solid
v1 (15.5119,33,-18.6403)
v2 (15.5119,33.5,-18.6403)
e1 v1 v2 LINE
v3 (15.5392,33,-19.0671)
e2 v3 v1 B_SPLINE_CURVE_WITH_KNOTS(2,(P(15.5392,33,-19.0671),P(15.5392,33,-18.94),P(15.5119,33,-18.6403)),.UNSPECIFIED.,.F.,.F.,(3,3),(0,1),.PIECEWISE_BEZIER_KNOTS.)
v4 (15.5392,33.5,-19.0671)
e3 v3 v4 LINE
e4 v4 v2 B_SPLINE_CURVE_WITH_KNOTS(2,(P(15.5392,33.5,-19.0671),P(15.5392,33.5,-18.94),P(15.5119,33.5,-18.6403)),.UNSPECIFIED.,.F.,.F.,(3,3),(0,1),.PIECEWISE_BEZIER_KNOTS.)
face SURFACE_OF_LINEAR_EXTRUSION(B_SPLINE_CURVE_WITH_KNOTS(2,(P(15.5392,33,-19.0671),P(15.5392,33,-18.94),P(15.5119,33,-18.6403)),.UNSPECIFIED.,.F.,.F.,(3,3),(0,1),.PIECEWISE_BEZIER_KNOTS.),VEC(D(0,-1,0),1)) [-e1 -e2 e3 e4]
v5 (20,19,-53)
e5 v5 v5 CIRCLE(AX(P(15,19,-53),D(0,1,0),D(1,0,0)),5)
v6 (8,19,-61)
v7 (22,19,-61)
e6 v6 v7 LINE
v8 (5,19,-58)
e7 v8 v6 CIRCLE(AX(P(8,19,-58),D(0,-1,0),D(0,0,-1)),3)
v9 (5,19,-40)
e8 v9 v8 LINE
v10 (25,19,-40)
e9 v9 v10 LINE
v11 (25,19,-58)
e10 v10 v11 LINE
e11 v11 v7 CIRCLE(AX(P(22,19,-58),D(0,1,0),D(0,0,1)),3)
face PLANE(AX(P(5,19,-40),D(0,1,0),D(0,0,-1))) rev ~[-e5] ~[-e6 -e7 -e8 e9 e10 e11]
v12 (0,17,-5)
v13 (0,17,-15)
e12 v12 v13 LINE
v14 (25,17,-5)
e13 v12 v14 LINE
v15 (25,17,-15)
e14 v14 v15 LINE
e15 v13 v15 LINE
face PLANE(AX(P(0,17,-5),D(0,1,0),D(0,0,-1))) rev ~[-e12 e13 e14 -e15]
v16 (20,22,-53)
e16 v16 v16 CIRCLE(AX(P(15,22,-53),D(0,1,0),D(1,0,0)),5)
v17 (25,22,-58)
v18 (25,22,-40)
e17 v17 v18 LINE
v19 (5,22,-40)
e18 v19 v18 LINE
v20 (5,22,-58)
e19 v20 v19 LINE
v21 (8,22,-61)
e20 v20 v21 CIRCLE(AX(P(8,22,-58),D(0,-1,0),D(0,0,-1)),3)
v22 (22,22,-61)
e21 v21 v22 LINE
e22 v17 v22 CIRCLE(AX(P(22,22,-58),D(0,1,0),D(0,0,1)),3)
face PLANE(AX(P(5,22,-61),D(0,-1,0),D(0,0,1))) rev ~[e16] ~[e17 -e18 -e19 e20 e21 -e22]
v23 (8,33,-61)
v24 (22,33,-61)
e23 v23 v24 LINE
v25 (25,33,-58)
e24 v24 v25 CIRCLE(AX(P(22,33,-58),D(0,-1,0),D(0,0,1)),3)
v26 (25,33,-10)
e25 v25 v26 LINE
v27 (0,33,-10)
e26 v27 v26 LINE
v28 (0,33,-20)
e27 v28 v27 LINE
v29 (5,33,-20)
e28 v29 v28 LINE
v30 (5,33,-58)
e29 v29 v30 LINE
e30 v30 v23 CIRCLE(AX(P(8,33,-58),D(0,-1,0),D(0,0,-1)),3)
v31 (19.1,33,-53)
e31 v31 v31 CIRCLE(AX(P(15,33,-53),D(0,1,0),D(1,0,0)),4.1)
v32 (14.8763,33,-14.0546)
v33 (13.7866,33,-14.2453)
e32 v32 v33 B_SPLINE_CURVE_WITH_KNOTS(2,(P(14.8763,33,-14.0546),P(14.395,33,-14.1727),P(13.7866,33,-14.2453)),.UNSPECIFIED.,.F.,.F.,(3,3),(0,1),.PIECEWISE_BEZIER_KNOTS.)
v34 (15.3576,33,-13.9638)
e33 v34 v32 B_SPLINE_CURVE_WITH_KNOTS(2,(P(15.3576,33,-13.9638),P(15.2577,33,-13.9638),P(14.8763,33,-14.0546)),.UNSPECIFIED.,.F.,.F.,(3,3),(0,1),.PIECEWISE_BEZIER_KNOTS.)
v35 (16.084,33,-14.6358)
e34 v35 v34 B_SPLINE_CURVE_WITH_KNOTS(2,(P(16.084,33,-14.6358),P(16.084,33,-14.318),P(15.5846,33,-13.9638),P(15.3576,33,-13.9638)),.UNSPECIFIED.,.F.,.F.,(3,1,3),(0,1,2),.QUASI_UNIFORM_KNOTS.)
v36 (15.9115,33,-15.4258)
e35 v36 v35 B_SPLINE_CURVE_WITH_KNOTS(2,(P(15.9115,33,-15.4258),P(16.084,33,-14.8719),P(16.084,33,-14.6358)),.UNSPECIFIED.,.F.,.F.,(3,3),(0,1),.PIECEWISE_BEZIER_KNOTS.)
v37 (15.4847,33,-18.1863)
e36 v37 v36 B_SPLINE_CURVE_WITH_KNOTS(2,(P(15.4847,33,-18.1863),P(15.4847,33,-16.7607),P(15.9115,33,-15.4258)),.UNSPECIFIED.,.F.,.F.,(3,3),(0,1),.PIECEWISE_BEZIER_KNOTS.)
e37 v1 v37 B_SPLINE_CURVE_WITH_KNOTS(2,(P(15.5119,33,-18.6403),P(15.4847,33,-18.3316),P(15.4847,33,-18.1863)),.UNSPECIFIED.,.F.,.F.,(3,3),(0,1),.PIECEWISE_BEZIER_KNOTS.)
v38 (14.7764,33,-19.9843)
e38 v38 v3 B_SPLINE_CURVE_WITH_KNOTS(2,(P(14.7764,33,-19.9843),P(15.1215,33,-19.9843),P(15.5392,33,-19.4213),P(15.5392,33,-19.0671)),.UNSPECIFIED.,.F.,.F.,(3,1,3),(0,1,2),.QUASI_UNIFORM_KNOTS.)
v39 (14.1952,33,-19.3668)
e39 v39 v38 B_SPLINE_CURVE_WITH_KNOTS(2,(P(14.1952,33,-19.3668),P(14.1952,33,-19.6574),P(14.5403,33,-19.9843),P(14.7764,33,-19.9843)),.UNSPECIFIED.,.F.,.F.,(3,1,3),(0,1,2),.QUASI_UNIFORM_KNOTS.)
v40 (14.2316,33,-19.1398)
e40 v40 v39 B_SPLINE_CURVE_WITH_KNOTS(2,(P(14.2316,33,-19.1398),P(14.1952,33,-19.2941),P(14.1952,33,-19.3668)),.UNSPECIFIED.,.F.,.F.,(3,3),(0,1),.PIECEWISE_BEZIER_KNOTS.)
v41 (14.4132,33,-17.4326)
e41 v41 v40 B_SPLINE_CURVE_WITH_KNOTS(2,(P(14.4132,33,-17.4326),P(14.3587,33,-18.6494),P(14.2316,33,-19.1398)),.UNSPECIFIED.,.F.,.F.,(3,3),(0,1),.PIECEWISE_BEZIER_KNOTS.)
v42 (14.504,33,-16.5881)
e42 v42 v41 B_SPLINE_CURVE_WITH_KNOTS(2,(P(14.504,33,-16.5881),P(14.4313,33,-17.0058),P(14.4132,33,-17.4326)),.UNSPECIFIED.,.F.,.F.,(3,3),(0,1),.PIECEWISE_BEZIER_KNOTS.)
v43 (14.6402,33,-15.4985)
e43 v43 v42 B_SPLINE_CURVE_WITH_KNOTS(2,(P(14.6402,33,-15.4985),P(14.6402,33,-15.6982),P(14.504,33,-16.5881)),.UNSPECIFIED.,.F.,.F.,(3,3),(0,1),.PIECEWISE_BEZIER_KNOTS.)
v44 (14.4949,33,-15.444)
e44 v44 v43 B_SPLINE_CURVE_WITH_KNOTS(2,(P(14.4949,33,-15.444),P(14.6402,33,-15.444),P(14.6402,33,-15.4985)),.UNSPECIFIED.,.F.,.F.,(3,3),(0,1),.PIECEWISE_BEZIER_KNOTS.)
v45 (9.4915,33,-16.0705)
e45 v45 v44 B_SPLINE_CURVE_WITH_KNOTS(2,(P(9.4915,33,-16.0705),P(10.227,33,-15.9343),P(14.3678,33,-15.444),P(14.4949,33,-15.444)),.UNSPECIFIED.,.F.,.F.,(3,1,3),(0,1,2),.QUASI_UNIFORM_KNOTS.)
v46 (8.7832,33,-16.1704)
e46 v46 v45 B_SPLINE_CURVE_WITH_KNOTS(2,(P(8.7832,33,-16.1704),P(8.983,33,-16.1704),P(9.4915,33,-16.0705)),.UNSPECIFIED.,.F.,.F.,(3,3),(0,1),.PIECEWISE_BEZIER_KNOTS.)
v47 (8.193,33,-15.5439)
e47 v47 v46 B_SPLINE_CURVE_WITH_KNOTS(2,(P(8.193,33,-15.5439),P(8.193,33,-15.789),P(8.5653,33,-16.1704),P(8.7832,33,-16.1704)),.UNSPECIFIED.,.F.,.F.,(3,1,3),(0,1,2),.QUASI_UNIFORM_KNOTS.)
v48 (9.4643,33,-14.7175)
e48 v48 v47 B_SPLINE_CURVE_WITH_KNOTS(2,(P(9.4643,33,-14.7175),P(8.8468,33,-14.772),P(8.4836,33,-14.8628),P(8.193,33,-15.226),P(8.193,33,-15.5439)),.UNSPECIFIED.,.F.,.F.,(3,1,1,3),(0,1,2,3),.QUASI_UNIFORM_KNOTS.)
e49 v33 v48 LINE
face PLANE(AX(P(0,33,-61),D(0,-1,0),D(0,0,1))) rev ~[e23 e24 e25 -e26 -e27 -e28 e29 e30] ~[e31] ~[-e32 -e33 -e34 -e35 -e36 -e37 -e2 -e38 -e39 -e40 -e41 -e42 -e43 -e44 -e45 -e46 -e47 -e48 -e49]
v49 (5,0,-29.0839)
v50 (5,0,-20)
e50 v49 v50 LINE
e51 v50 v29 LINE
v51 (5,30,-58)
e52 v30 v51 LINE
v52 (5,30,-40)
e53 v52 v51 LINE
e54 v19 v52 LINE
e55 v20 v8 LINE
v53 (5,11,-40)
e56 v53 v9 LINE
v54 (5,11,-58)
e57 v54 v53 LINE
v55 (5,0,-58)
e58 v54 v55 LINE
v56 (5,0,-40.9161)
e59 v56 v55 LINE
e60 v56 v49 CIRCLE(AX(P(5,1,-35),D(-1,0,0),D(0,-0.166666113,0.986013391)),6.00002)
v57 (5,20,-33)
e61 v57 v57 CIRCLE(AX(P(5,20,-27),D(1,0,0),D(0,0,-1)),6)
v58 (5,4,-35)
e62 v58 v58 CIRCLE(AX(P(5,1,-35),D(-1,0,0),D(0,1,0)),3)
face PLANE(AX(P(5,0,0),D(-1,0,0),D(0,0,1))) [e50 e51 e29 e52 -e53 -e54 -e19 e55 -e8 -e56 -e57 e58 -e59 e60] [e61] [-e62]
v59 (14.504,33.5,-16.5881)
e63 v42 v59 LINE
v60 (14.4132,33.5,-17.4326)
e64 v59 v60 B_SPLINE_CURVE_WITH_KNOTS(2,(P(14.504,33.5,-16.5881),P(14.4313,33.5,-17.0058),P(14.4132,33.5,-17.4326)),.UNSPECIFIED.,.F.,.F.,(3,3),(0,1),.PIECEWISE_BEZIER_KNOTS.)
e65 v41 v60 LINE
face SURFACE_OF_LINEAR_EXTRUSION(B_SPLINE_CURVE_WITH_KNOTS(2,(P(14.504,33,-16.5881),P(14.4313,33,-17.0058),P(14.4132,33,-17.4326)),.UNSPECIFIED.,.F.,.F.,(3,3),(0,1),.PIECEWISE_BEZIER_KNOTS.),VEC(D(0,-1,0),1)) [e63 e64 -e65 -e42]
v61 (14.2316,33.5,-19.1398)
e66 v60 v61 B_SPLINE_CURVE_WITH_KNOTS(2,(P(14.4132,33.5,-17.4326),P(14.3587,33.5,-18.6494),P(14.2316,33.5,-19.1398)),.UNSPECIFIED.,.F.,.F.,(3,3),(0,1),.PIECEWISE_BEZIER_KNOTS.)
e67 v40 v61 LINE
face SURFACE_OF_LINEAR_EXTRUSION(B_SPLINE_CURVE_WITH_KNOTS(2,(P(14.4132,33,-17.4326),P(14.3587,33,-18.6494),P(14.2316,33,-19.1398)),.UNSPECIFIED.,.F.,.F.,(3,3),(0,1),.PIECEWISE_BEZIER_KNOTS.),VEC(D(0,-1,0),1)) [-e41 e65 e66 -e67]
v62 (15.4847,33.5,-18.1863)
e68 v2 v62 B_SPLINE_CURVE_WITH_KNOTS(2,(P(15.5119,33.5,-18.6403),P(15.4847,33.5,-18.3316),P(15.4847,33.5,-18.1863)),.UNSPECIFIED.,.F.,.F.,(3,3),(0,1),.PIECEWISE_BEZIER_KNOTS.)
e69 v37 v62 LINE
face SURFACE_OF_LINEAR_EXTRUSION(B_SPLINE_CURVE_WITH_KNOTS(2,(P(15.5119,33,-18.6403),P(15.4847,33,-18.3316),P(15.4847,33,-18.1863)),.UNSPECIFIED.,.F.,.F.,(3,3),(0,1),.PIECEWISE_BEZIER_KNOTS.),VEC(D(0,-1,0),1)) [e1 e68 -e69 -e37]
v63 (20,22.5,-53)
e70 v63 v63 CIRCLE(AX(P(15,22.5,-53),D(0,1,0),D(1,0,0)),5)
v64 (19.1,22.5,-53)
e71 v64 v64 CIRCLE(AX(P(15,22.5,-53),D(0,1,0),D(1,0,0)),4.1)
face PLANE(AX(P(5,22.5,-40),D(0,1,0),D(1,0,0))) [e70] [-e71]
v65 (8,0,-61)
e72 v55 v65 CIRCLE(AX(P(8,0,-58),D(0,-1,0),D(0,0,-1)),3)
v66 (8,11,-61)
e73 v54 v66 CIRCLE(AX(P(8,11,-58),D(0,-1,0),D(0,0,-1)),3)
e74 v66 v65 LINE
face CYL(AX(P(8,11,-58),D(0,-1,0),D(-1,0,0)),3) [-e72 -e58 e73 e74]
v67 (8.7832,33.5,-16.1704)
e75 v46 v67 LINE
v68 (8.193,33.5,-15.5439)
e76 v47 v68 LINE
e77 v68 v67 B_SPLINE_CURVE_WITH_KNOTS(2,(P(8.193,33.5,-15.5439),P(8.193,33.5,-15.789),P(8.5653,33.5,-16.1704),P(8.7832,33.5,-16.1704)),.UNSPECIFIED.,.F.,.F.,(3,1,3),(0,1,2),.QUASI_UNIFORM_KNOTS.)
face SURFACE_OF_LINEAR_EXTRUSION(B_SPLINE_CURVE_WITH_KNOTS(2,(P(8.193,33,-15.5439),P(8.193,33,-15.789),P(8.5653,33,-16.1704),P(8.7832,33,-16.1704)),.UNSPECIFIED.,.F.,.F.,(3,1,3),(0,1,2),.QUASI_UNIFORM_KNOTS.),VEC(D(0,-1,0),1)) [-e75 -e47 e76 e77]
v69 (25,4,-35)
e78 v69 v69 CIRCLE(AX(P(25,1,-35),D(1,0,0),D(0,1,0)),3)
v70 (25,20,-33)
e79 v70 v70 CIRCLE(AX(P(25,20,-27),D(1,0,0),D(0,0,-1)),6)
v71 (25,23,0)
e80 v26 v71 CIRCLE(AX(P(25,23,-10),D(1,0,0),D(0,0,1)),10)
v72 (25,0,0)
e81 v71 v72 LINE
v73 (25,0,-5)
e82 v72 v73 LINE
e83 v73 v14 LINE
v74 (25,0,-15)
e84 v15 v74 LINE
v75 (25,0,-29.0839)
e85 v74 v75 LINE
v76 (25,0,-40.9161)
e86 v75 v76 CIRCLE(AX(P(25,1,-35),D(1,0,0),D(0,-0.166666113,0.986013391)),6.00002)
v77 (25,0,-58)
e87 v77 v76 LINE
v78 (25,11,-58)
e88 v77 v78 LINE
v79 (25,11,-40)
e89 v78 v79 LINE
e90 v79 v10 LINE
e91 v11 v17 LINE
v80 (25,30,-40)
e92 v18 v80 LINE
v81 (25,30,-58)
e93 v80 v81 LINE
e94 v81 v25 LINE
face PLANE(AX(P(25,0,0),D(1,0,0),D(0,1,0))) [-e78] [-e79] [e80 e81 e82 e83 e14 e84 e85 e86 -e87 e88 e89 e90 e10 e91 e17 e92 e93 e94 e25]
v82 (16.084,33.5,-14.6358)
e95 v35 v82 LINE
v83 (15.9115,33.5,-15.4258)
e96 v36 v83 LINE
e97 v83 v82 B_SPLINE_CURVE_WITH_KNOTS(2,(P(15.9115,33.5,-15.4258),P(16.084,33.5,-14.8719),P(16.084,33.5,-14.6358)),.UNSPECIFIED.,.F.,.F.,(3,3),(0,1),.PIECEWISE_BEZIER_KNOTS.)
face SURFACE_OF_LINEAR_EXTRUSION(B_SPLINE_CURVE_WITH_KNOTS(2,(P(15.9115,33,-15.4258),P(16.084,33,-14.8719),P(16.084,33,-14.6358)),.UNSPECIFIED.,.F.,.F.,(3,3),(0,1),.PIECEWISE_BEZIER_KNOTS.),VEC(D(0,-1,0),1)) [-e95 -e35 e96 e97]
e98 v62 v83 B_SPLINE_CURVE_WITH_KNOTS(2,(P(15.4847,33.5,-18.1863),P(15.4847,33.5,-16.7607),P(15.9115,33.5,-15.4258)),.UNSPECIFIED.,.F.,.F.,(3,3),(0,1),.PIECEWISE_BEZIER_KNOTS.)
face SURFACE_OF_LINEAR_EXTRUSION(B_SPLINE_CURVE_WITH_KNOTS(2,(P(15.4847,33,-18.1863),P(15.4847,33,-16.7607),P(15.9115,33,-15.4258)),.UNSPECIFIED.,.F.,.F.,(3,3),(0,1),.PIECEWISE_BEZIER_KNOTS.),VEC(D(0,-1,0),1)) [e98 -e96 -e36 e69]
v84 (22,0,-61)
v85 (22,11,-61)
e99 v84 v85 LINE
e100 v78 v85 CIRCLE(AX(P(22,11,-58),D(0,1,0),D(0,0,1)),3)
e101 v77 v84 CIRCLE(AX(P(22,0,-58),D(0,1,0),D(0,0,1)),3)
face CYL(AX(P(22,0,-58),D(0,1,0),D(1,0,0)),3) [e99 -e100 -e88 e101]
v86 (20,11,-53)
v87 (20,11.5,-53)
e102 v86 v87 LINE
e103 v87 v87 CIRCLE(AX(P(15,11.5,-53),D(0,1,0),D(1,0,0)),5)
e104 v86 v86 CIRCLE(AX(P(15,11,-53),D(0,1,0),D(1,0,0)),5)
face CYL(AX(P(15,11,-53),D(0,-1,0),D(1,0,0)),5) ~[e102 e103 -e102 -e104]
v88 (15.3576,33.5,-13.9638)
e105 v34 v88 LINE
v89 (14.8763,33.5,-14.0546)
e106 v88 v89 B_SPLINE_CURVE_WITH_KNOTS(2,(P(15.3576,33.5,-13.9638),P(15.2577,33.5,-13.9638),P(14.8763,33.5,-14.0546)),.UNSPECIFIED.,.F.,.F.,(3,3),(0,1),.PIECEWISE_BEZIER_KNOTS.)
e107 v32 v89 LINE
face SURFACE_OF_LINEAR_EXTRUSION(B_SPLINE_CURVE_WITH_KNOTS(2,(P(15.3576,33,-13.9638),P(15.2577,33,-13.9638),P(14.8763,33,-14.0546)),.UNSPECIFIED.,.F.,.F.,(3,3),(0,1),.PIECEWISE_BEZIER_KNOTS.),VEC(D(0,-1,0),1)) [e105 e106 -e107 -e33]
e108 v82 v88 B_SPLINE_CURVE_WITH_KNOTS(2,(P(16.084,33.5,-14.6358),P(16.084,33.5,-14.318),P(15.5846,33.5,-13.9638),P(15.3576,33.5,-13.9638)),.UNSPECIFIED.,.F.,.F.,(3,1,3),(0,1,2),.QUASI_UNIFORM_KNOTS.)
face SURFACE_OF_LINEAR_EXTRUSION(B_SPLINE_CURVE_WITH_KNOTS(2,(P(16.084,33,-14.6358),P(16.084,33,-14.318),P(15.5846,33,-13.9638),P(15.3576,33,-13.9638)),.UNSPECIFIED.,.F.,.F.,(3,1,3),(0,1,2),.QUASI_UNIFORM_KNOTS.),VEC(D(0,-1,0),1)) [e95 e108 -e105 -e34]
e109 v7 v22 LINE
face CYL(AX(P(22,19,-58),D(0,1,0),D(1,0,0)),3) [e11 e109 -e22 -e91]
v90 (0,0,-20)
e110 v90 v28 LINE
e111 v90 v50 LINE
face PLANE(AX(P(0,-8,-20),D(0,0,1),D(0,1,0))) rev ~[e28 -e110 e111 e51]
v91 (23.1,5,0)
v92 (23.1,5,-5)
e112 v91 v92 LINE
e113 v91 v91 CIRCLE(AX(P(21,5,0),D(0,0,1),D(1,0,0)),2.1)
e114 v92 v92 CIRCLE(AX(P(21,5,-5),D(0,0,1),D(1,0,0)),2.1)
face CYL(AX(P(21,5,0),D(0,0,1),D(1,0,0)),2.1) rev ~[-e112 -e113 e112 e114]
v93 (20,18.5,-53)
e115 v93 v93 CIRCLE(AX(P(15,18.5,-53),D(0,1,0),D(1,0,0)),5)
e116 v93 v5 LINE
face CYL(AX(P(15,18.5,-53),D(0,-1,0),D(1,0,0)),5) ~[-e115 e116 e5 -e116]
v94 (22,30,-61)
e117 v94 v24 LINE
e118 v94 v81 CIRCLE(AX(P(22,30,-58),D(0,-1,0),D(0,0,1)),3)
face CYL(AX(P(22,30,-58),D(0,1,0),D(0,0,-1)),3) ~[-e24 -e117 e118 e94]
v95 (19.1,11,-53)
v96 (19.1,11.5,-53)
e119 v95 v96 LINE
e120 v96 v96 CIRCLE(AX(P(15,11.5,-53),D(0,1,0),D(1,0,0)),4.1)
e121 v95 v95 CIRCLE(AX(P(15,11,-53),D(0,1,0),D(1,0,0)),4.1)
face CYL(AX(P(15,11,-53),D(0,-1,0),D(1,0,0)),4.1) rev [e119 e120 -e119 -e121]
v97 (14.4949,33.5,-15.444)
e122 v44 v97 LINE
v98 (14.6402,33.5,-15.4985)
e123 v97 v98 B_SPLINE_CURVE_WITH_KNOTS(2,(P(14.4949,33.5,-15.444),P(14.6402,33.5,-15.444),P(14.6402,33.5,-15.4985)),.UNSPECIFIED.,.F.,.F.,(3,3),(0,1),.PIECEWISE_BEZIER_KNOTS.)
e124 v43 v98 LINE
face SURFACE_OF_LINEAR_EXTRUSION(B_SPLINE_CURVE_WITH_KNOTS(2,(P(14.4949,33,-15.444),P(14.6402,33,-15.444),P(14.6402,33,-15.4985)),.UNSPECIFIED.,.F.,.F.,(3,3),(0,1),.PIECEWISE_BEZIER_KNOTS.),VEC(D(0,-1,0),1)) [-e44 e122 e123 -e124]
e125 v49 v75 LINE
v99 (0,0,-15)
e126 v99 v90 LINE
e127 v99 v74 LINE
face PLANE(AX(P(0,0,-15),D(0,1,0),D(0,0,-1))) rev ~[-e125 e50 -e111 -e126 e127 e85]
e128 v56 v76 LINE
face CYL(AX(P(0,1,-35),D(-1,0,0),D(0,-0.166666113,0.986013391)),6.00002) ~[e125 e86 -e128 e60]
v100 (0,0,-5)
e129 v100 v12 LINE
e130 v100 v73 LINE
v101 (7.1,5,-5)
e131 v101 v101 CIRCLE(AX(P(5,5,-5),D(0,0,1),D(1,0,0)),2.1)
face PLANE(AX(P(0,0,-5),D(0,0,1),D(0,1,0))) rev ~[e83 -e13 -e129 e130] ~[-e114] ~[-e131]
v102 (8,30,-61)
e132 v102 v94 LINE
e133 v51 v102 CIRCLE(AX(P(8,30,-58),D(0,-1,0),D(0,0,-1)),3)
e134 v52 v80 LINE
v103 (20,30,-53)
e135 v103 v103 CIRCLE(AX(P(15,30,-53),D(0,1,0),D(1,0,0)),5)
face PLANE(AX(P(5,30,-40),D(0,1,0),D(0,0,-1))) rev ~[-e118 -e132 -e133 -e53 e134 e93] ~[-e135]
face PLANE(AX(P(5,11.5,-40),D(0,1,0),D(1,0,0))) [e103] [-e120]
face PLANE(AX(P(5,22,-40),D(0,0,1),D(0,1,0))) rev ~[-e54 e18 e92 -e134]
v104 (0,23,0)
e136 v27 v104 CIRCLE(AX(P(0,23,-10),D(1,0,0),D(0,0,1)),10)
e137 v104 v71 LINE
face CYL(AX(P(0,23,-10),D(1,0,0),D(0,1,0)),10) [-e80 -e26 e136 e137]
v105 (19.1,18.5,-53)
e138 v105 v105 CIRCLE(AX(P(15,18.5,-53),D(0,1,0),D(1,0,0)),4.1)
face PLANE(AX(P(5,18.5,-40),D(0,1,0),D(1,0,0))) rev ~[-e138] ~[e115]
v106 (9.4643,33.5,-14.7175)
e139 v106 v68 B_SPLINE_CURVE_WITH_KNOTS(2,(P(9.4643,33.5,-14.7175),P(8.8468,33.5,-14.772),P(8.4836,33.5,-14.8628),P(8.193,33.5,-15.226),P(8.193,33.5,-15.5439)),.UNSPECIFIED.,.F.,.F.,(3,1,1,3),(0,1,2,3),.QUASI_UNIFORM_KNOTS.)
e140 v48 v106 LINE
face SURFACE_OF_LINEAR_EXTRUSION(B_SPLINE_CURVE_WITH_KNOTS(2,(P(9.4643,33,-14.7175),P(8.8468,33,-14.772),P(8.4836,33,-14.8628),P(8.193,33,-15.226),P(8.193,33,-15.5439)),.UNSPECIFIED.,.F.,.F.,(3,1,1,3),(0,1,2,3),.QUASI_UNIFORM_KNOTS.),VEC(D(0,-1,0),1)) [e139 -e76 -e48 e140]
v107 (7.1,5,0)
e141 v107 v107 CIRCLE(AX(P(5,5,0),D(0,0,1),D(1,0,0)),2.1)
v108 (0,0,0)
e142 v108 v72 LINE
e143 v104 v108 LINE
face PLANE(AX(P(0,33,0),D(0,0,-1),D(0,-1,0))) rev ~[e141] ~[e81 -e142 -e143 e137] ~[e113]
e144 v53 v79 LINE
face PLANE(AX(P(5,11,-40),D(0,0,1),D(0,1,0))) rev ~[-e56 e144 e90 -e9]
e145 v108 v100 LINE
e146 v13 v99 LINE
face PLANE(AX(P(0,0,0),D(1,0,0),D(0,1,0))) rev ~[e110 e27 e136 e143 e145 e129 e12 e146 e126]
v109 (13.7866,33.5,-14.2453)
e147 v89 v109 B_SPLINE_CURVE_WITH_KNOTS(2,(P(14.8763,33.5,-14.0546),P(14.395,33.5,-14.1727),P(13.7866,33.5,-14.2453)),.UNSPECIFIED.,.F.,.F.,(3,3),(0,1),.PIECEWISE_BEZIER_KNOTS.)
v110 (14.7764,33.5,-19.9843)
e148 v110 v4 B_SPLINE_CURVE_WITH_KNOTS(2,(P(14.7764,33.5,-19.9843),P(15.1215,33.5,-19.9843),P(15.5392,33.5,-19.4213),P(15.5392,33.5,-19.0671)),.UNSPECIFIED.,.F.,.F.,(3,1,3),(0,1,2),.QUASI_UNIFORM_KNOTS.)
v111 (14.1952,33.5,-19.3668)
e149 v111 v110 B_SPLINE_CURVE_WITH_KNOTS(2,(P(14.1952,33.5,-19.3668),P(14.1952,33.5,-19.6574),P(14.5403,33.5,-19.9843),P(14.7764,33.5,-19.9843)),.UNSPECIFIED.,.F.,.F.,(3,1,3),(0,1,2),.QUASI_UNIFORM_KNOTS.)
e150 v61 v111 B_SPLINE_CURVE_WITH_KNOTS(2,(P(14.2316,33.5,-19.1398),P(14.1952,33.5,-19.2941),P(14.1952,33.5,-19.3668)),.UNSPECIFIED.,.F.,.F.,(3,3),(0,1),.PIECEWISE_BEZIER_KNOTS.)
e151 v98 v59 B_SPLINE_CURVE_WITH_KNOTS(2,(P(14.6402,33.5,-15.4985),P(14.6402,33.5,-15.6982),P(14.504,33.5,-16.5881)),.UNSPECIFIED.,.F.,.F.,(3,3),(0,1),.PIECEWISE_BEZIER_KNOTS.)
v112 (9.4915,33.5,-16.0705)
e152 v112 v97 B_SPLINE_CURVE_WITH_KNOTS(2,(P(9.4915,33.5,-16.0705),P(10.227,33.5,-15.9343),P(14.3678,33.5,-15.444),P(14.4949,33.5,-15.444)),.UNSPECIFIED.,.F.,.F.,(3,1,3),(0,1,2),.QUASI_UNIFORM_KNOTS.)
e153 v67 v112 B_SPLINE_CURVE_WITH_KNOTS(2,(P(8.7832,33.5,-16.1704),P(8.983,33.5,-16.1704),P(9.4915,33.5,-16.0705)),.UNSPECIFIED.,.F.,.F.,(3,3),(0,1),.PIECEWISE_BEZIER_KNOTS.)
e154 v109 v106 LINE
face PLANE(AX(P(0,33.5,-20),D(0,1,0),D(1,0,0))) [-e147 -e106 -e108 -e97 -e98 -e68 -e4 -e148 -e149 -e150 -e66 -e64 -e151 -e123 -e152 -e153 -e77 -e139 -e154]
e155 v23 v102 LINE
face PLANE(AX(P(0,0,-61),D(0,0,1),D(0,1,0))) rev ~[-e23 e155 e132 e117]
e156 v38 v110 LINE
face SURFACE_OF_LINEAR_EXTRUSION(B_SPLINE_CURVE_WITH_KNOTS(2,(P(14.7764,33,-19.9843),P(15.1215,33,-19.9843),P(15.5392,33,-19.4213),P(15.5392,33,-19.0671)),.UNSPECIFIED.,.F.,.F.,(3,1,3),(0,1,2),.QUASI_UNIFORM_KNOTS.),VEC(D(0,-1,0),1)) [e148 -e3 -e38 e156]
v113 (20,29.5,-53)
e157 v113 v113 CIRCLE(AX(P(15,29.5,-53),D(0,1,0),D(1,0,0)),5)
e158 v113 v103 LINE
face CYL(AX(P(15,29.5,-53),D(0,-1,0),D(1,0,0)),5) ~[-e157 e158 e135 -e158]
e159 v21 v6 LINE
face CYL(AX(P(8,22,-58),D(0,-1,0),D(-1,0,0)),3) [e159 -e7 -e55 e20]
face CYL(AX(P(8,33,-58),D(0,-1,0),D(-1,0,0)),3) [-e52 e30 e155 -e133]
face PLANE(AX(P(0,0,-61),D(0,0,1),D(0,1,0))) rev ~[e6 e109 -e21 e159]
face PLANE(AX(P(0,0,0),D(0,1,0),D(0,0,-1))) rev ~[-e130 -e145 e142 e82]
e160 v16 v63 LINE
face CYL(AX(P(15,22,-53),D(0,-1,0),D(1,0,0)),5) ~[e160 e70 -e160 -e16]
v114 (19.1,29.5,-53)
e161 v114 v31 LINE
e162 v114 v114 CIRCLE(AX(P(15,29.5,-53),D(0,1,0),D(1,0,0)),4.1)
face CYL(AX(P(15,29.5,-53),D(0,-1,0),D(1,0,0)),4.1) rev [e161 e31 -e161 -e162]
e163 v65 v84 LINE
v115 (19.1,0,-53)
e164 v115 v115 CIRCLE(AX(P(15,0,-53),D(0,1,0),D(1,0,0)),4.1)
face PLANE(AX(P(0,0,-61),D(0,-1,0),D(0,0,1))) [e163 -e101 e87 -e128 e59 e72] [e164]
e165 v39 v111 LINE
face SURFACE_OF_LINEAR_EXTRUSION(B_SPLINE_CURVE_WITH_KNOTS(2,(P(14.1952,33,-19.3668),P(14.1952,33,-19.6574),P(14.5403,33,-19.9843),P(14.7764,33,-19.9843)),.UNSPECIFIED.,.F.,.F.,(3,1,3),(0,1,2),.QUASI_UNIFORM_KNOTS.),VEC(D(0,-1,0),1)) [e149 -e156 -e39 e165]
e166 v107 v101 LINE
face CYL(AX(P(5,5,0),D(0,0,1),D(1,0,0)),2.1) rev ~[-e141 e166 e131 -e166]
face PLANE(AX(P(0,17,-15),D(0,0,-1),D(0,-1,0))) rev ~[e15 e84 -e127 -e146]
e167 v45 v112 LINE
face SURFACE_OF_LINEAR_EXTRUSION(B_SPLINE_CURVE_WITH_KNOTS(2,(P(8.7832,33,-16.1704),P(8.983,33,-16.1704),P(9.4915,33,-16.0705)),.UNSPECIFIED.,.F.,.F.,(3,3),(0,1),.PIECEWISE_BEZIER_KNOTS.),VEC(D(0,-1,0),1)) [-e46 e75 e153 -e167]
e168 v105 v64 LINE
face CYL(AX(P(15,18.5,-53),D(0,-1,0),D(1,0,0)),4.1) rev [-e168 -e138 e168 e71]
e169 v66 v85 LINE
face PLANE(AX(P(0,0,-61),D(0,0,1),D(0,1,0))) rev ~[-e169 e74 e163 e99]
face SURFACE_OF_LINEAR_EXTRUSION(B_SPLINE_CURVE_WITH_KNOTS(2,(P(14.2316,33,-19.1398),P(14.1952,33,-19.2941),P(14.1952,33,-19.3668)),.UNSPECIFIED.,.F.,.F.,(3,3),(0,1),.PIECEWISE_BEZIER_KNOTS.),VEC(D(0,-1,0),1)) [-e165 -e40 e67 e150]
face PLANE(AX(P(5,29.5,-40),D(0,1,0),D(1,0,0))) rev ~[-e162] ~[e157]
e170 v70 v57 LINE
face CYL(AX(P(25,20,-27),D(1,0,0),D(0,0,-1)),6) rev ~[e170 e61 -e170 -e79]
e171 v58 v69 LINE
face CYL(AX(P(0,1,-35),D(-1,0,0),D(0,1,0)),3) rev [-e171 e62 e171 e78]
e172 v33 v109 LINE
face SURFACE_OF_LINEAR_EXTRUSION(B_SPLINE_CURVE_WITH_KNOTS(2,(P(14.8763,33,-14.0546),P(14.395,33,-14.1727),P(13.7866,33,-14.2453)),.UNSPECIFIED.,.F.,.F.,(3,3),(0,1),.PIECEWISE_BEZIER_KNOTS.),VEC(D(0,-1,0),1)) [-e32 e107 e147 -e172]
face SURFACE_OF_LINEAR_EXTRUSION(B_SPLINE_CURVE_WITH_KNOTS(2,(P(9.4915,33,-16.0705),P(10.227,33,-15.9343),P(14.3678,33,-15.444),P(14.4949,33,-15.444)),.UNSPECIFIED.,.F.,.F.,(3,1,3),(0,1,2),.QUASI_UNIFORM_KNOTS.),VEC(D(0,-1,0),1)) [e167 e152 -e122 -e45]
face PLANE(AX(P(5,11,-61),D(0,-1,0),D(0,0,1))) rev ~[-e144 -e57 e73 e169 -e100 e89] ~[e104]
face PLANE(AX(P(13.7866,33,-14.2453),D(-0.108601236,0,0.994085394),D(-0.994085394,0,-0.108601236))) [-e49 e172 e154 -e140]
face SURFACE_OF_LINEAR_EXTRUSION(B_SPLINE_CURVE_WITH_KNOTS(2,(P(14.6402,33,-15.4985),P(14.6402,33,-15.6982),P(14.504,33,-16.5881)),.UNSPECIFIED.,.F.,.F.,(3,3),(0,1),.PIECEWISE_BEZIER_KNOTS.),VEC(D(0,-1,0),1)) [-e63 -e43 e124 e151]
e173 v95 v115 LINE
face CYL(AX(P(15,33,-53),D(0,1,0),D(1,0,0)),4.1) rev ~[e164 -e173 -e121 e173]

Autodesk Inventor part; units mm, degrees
ref_plane "YZ Plane" through (0, 0, 0) normal (1, 0, 0) x (0, 1, 0)
ref_plane "XZ Plane" through (0, 0, 0) normal (0, 1, 0) x (-1, 0, 0)
ref_plane "XY Plane" through (0, 0, 0) normal (0, 0, 1) x (1, 0, 0)
sketch "Sketch1" plane through (0, 0, 0) normal (1, 0, 0) x (0, 1, 0)
  line L0 (0, 0) -> (0, -5)
  line L1 (0, -5) -> (17, -5)
  line L2 (17, -5) -> (17, -15)
  line L3 (17, -15) -> (0, -15)
  line L4 (0, -61) -> (33, -61)
  line L5 (33, -61) -> (33, 0)
  line L6 (33, 0) -> (0, 0)
  circle A0 centre (1, -35) radius 3
  arc A1 (0, -29.0839) -> (0, -40.9161) centre (1, -35) ccw
  line L7 (0, -15) -> (0, -29.0839)
  line L8 (0, -61) -> (0, -40.9161)
  dimension "d0" = 5
  dimension "d1" = 17
  dimension "d2" = 10
  dimension "d4" = 33
  dimension "d6" = 6
  dimension "d7" = 1
  dimension "d8" = 20
  dimension "d9" = 6
  dimension "d47" = 46
extrude "Extrusion1" add sketch "Sketch1" along normal blind 25
sketch "Sketch2" plane through (0, 0, 0) normal (-1, 0, 0) x (0, 0, 1)
  line L0 (-70, -8) -> (-20, -8)
  line L1 (-20, -8) -> (-20, 42)
  line L2 (-20, 42) -> (-70, 42)
  line L3 (-70, 42) -> (-70, -8)
  point P0 (0, 0)
  dimension "d12" = 20
  dimension "d13" = 8
  dimension "d14" = 50
  dimension "d15" = 50
extrude "Extrusion2" cut sketch "Sketch2" against normal blind 5
sketch "Sketch3" plane through (5, 0, 0) normal (-1, 0, 0) x (0, 0, 1)
  line L0 (-61, 22) -> (-40, 22)
  line L1 (-40, 22) -> (-40, 30)
  line L2 (-40, 30) -> (-61, 30)
  line L3 (-61, 30) -> (-61, 22)
  line L4 (-61, 11) -> (-40, 11)
  line L5 (-40, 11) -> (-40, 19)
  line L6 (-40, 19) -> (-61, 19)
  line L7 (-61, 19) -> (-61, 11)
  line L8 (-61, 33) -> (-20, 33) projected
  point P0 (0, 0)
  dimension "d18" = 8
  dimension "d19" = 8
  dimension "d20" = 21
  dimension "d21" = 3
  dimension "d22" = 3
extrude "Extrusion3" cut sketch "Sketch3" against normal up to next
sketch "Sketch4" plane through (0, 33, 0) normal (0, 1, 0) x (1, 0, 0)
  circle A0 centre (15, 53) radius 4.1
  line L0 (5, 61) -> (25, 61) projected
  point P0 (0, 0)
  point P1 (15, 61)
  dimension "d25" = 8.2
  dimension "d26" = 8
extrude "Extrusion4" cut sketch "Sketch4" against normal through all
sketch "Sketch5" plane through (5, 11, -40) normal (0, 1, 0) x (1, 0, 0)
  circle A0 centre (10, 13) radius 4.1 projected
  circle A1 centre (10, 13) radius 5
  point P0 (-5, -40)
  dimension "d29" = 10
extrude "Extrusion5" add sketch "Sketch5" along normal blind 0.5
pattern_linear "Rectangular Pattern1" count 2 spacing 11 along (0, 1, 0) of "Extrusion5"
pattern_linear "Rectangular Pattern2" count 2 spacing 7.5 along (0, 1, 0) of "Extrusion5", "Rectangular Pattern1"
sketch "Sketch6" plane through (25, 0, 0) normal (1, 0, 0) x (0, 0, -1)
  circle A0 centre (27, 20) radius 6
  line L0 (61, 33) -> (0, 33) projected
  line L1 (0, 33) -> (0, 0) projected
  dimension "d38" = 12
  dimension "d39" = 13
  dimension "d40" = 27
extrude "Extrusion6" cut sketch "Sketch6" against normal up to surface (20 mm away)
fillet "Fillet1" radius 3 6 edges at (25, 31.5, -61) (25, 20.5, -61) (25, 5.5, -61) (5, 31.5, -61) (5, 20.5, -61) (5, 5.5, -61)
fillet "Fillet2" radius 10 1 edges at (12.5, 33, 0)
sketch "Sketch7" plane through (0, 33, -20) normal (0, 1, 0) x (1, 0, 0)
  spline S0 degree 2 poles (15.5392, -0.9329) (15.5392, -1.06) (15.5119, -1.3597) knots 0 0 0 1 1 1
  spline S1 degree 2 poles (15.5119, -1.3597) (15.4847, -1.6684) (15.4847, -1.8137) knots 0 0 0 1 1 1
  spline S2 degree 2 poles (15.4847, -1.8137) (15.4847, -3.2393) (15.9115, -4.5742) knots 0 0 0 1 1 1
  spline S3 degree 2 poles (15.9115, -4.5742) (16.084, -5.1281) (16.084, -5.3642) knots 0 0 0 1 1 1
  spline S4 degree 2 poles (16.084, -5.3642) (16.084, -5.682) (15.5846, -6.0362) (15.3576, -6.0362) knots 0 0 0 1 2 2 2
  spline S5 degree 2 poles (15.3576, -6.0362) (15.2577, -6.0362) (14.8763, -5.9454) knots 0 0 0 1 1 1
  spline S6 degree 2 poles (14.8763, -5.9454) (14.395, -5.8273) (13.7866, -5.7547) knots 0 0 0 1 1 1
  line L0 (13.7866, -5.7547) -> (9.4643, -5.2825)
  spline S7 degree 2 poles (9.4643, -5.2825) (8.8468, -5.228) (8.4836, -5.1372) (8.193, -4.774) (8.193, -4.4561) knots 0 0 0 1 2 3 3 3
  spline S8 degree 2 poles (8.193, -4.4561) (8.193, -4.211) (8.5653, -3.8296) (8.7832, -3.8296) knots 0 0 0 1 2 2 2
  spline S9 degree 2 poles (8.7832, -3.8296) (8.983, -3.8296) (9.4915, -3.9295) knots 0 0 0 1 1 1
  spline S10 degree 2 poles (9.4915, -3.9295) (10.227, -4.0657) (14.3678, -4.556) (14.4949, -4.556) knots 0 0 0 1 2 2 2
  spline S11 degree 2 poles (14.4949, -4.556) (14.6402, -4.556) (14.6402, -4.5015) knots 0 0 0 1 1 1
  spline S12 degree 2 poles (14.6402, -4.5015) (14.6402, -4.3018) (14.504, -3.4119) knots 0 0 0 1 1 1
  spline S13 degree 2 poles (14.504, -3.4119) (14.4313, -2.9942) (14.4132, -2.5674) knots 0 0 0 1 1 1
  spline S14 degree 2 poles (14.4132, -2.5674) (14.3587, -1.3506) (14.2316, -0.8602) knots 0 0 0 1 1 1
  spline S15 degree 2 poles (14.2316, -0.8602) (14.1952, -0.7059) (14.1952, -0.6332) knots 0 0 0 1 1 1
  spline S16 degree 2 poles (14.1952, -0.6332) (14.1952, -0.3426) (14.5403, -0.0157) (14.7764, -0.0157) knots 0 0 0 1 2 2 2
  spline S17 degree 2 poles (14.7764, -0.0157) (15.1215, -0.0157) (15.5392, -0.5787) (15.5392, -0.9329) knots 0 0 0 1 2 2 2
  point P0 (0, -20)
  point P1 (8.193, -6.6991)
extrude "Extrusion7" add sketch "Sketch7" along normal blind 0.5
sketch "Sketch8" plane through (0, 0, 0) normal (0, 0, 1) x (1, 0, 0)
  circle A0 centre (5, 5) radius 2.1
  circle A1 centre (21, 5) radius 2.1
  line L0 (0, 0) -> (25, 0) projected
  line L1 (25, 23) -> (25, 0) projected
  line L2 (0, 23) -> (0, 0) projected
  dimension "d48" = 4.2
  dimension "d49" = 5
  dimension "d50" = 4
  dimension "d51" = 5
extrude "Extrusion8" cut sketch "Sketch8" against normal up to next
equation "\"d18\" = d19"
equation "\"d21\" = d22"
properties material "ABS Plastic"
